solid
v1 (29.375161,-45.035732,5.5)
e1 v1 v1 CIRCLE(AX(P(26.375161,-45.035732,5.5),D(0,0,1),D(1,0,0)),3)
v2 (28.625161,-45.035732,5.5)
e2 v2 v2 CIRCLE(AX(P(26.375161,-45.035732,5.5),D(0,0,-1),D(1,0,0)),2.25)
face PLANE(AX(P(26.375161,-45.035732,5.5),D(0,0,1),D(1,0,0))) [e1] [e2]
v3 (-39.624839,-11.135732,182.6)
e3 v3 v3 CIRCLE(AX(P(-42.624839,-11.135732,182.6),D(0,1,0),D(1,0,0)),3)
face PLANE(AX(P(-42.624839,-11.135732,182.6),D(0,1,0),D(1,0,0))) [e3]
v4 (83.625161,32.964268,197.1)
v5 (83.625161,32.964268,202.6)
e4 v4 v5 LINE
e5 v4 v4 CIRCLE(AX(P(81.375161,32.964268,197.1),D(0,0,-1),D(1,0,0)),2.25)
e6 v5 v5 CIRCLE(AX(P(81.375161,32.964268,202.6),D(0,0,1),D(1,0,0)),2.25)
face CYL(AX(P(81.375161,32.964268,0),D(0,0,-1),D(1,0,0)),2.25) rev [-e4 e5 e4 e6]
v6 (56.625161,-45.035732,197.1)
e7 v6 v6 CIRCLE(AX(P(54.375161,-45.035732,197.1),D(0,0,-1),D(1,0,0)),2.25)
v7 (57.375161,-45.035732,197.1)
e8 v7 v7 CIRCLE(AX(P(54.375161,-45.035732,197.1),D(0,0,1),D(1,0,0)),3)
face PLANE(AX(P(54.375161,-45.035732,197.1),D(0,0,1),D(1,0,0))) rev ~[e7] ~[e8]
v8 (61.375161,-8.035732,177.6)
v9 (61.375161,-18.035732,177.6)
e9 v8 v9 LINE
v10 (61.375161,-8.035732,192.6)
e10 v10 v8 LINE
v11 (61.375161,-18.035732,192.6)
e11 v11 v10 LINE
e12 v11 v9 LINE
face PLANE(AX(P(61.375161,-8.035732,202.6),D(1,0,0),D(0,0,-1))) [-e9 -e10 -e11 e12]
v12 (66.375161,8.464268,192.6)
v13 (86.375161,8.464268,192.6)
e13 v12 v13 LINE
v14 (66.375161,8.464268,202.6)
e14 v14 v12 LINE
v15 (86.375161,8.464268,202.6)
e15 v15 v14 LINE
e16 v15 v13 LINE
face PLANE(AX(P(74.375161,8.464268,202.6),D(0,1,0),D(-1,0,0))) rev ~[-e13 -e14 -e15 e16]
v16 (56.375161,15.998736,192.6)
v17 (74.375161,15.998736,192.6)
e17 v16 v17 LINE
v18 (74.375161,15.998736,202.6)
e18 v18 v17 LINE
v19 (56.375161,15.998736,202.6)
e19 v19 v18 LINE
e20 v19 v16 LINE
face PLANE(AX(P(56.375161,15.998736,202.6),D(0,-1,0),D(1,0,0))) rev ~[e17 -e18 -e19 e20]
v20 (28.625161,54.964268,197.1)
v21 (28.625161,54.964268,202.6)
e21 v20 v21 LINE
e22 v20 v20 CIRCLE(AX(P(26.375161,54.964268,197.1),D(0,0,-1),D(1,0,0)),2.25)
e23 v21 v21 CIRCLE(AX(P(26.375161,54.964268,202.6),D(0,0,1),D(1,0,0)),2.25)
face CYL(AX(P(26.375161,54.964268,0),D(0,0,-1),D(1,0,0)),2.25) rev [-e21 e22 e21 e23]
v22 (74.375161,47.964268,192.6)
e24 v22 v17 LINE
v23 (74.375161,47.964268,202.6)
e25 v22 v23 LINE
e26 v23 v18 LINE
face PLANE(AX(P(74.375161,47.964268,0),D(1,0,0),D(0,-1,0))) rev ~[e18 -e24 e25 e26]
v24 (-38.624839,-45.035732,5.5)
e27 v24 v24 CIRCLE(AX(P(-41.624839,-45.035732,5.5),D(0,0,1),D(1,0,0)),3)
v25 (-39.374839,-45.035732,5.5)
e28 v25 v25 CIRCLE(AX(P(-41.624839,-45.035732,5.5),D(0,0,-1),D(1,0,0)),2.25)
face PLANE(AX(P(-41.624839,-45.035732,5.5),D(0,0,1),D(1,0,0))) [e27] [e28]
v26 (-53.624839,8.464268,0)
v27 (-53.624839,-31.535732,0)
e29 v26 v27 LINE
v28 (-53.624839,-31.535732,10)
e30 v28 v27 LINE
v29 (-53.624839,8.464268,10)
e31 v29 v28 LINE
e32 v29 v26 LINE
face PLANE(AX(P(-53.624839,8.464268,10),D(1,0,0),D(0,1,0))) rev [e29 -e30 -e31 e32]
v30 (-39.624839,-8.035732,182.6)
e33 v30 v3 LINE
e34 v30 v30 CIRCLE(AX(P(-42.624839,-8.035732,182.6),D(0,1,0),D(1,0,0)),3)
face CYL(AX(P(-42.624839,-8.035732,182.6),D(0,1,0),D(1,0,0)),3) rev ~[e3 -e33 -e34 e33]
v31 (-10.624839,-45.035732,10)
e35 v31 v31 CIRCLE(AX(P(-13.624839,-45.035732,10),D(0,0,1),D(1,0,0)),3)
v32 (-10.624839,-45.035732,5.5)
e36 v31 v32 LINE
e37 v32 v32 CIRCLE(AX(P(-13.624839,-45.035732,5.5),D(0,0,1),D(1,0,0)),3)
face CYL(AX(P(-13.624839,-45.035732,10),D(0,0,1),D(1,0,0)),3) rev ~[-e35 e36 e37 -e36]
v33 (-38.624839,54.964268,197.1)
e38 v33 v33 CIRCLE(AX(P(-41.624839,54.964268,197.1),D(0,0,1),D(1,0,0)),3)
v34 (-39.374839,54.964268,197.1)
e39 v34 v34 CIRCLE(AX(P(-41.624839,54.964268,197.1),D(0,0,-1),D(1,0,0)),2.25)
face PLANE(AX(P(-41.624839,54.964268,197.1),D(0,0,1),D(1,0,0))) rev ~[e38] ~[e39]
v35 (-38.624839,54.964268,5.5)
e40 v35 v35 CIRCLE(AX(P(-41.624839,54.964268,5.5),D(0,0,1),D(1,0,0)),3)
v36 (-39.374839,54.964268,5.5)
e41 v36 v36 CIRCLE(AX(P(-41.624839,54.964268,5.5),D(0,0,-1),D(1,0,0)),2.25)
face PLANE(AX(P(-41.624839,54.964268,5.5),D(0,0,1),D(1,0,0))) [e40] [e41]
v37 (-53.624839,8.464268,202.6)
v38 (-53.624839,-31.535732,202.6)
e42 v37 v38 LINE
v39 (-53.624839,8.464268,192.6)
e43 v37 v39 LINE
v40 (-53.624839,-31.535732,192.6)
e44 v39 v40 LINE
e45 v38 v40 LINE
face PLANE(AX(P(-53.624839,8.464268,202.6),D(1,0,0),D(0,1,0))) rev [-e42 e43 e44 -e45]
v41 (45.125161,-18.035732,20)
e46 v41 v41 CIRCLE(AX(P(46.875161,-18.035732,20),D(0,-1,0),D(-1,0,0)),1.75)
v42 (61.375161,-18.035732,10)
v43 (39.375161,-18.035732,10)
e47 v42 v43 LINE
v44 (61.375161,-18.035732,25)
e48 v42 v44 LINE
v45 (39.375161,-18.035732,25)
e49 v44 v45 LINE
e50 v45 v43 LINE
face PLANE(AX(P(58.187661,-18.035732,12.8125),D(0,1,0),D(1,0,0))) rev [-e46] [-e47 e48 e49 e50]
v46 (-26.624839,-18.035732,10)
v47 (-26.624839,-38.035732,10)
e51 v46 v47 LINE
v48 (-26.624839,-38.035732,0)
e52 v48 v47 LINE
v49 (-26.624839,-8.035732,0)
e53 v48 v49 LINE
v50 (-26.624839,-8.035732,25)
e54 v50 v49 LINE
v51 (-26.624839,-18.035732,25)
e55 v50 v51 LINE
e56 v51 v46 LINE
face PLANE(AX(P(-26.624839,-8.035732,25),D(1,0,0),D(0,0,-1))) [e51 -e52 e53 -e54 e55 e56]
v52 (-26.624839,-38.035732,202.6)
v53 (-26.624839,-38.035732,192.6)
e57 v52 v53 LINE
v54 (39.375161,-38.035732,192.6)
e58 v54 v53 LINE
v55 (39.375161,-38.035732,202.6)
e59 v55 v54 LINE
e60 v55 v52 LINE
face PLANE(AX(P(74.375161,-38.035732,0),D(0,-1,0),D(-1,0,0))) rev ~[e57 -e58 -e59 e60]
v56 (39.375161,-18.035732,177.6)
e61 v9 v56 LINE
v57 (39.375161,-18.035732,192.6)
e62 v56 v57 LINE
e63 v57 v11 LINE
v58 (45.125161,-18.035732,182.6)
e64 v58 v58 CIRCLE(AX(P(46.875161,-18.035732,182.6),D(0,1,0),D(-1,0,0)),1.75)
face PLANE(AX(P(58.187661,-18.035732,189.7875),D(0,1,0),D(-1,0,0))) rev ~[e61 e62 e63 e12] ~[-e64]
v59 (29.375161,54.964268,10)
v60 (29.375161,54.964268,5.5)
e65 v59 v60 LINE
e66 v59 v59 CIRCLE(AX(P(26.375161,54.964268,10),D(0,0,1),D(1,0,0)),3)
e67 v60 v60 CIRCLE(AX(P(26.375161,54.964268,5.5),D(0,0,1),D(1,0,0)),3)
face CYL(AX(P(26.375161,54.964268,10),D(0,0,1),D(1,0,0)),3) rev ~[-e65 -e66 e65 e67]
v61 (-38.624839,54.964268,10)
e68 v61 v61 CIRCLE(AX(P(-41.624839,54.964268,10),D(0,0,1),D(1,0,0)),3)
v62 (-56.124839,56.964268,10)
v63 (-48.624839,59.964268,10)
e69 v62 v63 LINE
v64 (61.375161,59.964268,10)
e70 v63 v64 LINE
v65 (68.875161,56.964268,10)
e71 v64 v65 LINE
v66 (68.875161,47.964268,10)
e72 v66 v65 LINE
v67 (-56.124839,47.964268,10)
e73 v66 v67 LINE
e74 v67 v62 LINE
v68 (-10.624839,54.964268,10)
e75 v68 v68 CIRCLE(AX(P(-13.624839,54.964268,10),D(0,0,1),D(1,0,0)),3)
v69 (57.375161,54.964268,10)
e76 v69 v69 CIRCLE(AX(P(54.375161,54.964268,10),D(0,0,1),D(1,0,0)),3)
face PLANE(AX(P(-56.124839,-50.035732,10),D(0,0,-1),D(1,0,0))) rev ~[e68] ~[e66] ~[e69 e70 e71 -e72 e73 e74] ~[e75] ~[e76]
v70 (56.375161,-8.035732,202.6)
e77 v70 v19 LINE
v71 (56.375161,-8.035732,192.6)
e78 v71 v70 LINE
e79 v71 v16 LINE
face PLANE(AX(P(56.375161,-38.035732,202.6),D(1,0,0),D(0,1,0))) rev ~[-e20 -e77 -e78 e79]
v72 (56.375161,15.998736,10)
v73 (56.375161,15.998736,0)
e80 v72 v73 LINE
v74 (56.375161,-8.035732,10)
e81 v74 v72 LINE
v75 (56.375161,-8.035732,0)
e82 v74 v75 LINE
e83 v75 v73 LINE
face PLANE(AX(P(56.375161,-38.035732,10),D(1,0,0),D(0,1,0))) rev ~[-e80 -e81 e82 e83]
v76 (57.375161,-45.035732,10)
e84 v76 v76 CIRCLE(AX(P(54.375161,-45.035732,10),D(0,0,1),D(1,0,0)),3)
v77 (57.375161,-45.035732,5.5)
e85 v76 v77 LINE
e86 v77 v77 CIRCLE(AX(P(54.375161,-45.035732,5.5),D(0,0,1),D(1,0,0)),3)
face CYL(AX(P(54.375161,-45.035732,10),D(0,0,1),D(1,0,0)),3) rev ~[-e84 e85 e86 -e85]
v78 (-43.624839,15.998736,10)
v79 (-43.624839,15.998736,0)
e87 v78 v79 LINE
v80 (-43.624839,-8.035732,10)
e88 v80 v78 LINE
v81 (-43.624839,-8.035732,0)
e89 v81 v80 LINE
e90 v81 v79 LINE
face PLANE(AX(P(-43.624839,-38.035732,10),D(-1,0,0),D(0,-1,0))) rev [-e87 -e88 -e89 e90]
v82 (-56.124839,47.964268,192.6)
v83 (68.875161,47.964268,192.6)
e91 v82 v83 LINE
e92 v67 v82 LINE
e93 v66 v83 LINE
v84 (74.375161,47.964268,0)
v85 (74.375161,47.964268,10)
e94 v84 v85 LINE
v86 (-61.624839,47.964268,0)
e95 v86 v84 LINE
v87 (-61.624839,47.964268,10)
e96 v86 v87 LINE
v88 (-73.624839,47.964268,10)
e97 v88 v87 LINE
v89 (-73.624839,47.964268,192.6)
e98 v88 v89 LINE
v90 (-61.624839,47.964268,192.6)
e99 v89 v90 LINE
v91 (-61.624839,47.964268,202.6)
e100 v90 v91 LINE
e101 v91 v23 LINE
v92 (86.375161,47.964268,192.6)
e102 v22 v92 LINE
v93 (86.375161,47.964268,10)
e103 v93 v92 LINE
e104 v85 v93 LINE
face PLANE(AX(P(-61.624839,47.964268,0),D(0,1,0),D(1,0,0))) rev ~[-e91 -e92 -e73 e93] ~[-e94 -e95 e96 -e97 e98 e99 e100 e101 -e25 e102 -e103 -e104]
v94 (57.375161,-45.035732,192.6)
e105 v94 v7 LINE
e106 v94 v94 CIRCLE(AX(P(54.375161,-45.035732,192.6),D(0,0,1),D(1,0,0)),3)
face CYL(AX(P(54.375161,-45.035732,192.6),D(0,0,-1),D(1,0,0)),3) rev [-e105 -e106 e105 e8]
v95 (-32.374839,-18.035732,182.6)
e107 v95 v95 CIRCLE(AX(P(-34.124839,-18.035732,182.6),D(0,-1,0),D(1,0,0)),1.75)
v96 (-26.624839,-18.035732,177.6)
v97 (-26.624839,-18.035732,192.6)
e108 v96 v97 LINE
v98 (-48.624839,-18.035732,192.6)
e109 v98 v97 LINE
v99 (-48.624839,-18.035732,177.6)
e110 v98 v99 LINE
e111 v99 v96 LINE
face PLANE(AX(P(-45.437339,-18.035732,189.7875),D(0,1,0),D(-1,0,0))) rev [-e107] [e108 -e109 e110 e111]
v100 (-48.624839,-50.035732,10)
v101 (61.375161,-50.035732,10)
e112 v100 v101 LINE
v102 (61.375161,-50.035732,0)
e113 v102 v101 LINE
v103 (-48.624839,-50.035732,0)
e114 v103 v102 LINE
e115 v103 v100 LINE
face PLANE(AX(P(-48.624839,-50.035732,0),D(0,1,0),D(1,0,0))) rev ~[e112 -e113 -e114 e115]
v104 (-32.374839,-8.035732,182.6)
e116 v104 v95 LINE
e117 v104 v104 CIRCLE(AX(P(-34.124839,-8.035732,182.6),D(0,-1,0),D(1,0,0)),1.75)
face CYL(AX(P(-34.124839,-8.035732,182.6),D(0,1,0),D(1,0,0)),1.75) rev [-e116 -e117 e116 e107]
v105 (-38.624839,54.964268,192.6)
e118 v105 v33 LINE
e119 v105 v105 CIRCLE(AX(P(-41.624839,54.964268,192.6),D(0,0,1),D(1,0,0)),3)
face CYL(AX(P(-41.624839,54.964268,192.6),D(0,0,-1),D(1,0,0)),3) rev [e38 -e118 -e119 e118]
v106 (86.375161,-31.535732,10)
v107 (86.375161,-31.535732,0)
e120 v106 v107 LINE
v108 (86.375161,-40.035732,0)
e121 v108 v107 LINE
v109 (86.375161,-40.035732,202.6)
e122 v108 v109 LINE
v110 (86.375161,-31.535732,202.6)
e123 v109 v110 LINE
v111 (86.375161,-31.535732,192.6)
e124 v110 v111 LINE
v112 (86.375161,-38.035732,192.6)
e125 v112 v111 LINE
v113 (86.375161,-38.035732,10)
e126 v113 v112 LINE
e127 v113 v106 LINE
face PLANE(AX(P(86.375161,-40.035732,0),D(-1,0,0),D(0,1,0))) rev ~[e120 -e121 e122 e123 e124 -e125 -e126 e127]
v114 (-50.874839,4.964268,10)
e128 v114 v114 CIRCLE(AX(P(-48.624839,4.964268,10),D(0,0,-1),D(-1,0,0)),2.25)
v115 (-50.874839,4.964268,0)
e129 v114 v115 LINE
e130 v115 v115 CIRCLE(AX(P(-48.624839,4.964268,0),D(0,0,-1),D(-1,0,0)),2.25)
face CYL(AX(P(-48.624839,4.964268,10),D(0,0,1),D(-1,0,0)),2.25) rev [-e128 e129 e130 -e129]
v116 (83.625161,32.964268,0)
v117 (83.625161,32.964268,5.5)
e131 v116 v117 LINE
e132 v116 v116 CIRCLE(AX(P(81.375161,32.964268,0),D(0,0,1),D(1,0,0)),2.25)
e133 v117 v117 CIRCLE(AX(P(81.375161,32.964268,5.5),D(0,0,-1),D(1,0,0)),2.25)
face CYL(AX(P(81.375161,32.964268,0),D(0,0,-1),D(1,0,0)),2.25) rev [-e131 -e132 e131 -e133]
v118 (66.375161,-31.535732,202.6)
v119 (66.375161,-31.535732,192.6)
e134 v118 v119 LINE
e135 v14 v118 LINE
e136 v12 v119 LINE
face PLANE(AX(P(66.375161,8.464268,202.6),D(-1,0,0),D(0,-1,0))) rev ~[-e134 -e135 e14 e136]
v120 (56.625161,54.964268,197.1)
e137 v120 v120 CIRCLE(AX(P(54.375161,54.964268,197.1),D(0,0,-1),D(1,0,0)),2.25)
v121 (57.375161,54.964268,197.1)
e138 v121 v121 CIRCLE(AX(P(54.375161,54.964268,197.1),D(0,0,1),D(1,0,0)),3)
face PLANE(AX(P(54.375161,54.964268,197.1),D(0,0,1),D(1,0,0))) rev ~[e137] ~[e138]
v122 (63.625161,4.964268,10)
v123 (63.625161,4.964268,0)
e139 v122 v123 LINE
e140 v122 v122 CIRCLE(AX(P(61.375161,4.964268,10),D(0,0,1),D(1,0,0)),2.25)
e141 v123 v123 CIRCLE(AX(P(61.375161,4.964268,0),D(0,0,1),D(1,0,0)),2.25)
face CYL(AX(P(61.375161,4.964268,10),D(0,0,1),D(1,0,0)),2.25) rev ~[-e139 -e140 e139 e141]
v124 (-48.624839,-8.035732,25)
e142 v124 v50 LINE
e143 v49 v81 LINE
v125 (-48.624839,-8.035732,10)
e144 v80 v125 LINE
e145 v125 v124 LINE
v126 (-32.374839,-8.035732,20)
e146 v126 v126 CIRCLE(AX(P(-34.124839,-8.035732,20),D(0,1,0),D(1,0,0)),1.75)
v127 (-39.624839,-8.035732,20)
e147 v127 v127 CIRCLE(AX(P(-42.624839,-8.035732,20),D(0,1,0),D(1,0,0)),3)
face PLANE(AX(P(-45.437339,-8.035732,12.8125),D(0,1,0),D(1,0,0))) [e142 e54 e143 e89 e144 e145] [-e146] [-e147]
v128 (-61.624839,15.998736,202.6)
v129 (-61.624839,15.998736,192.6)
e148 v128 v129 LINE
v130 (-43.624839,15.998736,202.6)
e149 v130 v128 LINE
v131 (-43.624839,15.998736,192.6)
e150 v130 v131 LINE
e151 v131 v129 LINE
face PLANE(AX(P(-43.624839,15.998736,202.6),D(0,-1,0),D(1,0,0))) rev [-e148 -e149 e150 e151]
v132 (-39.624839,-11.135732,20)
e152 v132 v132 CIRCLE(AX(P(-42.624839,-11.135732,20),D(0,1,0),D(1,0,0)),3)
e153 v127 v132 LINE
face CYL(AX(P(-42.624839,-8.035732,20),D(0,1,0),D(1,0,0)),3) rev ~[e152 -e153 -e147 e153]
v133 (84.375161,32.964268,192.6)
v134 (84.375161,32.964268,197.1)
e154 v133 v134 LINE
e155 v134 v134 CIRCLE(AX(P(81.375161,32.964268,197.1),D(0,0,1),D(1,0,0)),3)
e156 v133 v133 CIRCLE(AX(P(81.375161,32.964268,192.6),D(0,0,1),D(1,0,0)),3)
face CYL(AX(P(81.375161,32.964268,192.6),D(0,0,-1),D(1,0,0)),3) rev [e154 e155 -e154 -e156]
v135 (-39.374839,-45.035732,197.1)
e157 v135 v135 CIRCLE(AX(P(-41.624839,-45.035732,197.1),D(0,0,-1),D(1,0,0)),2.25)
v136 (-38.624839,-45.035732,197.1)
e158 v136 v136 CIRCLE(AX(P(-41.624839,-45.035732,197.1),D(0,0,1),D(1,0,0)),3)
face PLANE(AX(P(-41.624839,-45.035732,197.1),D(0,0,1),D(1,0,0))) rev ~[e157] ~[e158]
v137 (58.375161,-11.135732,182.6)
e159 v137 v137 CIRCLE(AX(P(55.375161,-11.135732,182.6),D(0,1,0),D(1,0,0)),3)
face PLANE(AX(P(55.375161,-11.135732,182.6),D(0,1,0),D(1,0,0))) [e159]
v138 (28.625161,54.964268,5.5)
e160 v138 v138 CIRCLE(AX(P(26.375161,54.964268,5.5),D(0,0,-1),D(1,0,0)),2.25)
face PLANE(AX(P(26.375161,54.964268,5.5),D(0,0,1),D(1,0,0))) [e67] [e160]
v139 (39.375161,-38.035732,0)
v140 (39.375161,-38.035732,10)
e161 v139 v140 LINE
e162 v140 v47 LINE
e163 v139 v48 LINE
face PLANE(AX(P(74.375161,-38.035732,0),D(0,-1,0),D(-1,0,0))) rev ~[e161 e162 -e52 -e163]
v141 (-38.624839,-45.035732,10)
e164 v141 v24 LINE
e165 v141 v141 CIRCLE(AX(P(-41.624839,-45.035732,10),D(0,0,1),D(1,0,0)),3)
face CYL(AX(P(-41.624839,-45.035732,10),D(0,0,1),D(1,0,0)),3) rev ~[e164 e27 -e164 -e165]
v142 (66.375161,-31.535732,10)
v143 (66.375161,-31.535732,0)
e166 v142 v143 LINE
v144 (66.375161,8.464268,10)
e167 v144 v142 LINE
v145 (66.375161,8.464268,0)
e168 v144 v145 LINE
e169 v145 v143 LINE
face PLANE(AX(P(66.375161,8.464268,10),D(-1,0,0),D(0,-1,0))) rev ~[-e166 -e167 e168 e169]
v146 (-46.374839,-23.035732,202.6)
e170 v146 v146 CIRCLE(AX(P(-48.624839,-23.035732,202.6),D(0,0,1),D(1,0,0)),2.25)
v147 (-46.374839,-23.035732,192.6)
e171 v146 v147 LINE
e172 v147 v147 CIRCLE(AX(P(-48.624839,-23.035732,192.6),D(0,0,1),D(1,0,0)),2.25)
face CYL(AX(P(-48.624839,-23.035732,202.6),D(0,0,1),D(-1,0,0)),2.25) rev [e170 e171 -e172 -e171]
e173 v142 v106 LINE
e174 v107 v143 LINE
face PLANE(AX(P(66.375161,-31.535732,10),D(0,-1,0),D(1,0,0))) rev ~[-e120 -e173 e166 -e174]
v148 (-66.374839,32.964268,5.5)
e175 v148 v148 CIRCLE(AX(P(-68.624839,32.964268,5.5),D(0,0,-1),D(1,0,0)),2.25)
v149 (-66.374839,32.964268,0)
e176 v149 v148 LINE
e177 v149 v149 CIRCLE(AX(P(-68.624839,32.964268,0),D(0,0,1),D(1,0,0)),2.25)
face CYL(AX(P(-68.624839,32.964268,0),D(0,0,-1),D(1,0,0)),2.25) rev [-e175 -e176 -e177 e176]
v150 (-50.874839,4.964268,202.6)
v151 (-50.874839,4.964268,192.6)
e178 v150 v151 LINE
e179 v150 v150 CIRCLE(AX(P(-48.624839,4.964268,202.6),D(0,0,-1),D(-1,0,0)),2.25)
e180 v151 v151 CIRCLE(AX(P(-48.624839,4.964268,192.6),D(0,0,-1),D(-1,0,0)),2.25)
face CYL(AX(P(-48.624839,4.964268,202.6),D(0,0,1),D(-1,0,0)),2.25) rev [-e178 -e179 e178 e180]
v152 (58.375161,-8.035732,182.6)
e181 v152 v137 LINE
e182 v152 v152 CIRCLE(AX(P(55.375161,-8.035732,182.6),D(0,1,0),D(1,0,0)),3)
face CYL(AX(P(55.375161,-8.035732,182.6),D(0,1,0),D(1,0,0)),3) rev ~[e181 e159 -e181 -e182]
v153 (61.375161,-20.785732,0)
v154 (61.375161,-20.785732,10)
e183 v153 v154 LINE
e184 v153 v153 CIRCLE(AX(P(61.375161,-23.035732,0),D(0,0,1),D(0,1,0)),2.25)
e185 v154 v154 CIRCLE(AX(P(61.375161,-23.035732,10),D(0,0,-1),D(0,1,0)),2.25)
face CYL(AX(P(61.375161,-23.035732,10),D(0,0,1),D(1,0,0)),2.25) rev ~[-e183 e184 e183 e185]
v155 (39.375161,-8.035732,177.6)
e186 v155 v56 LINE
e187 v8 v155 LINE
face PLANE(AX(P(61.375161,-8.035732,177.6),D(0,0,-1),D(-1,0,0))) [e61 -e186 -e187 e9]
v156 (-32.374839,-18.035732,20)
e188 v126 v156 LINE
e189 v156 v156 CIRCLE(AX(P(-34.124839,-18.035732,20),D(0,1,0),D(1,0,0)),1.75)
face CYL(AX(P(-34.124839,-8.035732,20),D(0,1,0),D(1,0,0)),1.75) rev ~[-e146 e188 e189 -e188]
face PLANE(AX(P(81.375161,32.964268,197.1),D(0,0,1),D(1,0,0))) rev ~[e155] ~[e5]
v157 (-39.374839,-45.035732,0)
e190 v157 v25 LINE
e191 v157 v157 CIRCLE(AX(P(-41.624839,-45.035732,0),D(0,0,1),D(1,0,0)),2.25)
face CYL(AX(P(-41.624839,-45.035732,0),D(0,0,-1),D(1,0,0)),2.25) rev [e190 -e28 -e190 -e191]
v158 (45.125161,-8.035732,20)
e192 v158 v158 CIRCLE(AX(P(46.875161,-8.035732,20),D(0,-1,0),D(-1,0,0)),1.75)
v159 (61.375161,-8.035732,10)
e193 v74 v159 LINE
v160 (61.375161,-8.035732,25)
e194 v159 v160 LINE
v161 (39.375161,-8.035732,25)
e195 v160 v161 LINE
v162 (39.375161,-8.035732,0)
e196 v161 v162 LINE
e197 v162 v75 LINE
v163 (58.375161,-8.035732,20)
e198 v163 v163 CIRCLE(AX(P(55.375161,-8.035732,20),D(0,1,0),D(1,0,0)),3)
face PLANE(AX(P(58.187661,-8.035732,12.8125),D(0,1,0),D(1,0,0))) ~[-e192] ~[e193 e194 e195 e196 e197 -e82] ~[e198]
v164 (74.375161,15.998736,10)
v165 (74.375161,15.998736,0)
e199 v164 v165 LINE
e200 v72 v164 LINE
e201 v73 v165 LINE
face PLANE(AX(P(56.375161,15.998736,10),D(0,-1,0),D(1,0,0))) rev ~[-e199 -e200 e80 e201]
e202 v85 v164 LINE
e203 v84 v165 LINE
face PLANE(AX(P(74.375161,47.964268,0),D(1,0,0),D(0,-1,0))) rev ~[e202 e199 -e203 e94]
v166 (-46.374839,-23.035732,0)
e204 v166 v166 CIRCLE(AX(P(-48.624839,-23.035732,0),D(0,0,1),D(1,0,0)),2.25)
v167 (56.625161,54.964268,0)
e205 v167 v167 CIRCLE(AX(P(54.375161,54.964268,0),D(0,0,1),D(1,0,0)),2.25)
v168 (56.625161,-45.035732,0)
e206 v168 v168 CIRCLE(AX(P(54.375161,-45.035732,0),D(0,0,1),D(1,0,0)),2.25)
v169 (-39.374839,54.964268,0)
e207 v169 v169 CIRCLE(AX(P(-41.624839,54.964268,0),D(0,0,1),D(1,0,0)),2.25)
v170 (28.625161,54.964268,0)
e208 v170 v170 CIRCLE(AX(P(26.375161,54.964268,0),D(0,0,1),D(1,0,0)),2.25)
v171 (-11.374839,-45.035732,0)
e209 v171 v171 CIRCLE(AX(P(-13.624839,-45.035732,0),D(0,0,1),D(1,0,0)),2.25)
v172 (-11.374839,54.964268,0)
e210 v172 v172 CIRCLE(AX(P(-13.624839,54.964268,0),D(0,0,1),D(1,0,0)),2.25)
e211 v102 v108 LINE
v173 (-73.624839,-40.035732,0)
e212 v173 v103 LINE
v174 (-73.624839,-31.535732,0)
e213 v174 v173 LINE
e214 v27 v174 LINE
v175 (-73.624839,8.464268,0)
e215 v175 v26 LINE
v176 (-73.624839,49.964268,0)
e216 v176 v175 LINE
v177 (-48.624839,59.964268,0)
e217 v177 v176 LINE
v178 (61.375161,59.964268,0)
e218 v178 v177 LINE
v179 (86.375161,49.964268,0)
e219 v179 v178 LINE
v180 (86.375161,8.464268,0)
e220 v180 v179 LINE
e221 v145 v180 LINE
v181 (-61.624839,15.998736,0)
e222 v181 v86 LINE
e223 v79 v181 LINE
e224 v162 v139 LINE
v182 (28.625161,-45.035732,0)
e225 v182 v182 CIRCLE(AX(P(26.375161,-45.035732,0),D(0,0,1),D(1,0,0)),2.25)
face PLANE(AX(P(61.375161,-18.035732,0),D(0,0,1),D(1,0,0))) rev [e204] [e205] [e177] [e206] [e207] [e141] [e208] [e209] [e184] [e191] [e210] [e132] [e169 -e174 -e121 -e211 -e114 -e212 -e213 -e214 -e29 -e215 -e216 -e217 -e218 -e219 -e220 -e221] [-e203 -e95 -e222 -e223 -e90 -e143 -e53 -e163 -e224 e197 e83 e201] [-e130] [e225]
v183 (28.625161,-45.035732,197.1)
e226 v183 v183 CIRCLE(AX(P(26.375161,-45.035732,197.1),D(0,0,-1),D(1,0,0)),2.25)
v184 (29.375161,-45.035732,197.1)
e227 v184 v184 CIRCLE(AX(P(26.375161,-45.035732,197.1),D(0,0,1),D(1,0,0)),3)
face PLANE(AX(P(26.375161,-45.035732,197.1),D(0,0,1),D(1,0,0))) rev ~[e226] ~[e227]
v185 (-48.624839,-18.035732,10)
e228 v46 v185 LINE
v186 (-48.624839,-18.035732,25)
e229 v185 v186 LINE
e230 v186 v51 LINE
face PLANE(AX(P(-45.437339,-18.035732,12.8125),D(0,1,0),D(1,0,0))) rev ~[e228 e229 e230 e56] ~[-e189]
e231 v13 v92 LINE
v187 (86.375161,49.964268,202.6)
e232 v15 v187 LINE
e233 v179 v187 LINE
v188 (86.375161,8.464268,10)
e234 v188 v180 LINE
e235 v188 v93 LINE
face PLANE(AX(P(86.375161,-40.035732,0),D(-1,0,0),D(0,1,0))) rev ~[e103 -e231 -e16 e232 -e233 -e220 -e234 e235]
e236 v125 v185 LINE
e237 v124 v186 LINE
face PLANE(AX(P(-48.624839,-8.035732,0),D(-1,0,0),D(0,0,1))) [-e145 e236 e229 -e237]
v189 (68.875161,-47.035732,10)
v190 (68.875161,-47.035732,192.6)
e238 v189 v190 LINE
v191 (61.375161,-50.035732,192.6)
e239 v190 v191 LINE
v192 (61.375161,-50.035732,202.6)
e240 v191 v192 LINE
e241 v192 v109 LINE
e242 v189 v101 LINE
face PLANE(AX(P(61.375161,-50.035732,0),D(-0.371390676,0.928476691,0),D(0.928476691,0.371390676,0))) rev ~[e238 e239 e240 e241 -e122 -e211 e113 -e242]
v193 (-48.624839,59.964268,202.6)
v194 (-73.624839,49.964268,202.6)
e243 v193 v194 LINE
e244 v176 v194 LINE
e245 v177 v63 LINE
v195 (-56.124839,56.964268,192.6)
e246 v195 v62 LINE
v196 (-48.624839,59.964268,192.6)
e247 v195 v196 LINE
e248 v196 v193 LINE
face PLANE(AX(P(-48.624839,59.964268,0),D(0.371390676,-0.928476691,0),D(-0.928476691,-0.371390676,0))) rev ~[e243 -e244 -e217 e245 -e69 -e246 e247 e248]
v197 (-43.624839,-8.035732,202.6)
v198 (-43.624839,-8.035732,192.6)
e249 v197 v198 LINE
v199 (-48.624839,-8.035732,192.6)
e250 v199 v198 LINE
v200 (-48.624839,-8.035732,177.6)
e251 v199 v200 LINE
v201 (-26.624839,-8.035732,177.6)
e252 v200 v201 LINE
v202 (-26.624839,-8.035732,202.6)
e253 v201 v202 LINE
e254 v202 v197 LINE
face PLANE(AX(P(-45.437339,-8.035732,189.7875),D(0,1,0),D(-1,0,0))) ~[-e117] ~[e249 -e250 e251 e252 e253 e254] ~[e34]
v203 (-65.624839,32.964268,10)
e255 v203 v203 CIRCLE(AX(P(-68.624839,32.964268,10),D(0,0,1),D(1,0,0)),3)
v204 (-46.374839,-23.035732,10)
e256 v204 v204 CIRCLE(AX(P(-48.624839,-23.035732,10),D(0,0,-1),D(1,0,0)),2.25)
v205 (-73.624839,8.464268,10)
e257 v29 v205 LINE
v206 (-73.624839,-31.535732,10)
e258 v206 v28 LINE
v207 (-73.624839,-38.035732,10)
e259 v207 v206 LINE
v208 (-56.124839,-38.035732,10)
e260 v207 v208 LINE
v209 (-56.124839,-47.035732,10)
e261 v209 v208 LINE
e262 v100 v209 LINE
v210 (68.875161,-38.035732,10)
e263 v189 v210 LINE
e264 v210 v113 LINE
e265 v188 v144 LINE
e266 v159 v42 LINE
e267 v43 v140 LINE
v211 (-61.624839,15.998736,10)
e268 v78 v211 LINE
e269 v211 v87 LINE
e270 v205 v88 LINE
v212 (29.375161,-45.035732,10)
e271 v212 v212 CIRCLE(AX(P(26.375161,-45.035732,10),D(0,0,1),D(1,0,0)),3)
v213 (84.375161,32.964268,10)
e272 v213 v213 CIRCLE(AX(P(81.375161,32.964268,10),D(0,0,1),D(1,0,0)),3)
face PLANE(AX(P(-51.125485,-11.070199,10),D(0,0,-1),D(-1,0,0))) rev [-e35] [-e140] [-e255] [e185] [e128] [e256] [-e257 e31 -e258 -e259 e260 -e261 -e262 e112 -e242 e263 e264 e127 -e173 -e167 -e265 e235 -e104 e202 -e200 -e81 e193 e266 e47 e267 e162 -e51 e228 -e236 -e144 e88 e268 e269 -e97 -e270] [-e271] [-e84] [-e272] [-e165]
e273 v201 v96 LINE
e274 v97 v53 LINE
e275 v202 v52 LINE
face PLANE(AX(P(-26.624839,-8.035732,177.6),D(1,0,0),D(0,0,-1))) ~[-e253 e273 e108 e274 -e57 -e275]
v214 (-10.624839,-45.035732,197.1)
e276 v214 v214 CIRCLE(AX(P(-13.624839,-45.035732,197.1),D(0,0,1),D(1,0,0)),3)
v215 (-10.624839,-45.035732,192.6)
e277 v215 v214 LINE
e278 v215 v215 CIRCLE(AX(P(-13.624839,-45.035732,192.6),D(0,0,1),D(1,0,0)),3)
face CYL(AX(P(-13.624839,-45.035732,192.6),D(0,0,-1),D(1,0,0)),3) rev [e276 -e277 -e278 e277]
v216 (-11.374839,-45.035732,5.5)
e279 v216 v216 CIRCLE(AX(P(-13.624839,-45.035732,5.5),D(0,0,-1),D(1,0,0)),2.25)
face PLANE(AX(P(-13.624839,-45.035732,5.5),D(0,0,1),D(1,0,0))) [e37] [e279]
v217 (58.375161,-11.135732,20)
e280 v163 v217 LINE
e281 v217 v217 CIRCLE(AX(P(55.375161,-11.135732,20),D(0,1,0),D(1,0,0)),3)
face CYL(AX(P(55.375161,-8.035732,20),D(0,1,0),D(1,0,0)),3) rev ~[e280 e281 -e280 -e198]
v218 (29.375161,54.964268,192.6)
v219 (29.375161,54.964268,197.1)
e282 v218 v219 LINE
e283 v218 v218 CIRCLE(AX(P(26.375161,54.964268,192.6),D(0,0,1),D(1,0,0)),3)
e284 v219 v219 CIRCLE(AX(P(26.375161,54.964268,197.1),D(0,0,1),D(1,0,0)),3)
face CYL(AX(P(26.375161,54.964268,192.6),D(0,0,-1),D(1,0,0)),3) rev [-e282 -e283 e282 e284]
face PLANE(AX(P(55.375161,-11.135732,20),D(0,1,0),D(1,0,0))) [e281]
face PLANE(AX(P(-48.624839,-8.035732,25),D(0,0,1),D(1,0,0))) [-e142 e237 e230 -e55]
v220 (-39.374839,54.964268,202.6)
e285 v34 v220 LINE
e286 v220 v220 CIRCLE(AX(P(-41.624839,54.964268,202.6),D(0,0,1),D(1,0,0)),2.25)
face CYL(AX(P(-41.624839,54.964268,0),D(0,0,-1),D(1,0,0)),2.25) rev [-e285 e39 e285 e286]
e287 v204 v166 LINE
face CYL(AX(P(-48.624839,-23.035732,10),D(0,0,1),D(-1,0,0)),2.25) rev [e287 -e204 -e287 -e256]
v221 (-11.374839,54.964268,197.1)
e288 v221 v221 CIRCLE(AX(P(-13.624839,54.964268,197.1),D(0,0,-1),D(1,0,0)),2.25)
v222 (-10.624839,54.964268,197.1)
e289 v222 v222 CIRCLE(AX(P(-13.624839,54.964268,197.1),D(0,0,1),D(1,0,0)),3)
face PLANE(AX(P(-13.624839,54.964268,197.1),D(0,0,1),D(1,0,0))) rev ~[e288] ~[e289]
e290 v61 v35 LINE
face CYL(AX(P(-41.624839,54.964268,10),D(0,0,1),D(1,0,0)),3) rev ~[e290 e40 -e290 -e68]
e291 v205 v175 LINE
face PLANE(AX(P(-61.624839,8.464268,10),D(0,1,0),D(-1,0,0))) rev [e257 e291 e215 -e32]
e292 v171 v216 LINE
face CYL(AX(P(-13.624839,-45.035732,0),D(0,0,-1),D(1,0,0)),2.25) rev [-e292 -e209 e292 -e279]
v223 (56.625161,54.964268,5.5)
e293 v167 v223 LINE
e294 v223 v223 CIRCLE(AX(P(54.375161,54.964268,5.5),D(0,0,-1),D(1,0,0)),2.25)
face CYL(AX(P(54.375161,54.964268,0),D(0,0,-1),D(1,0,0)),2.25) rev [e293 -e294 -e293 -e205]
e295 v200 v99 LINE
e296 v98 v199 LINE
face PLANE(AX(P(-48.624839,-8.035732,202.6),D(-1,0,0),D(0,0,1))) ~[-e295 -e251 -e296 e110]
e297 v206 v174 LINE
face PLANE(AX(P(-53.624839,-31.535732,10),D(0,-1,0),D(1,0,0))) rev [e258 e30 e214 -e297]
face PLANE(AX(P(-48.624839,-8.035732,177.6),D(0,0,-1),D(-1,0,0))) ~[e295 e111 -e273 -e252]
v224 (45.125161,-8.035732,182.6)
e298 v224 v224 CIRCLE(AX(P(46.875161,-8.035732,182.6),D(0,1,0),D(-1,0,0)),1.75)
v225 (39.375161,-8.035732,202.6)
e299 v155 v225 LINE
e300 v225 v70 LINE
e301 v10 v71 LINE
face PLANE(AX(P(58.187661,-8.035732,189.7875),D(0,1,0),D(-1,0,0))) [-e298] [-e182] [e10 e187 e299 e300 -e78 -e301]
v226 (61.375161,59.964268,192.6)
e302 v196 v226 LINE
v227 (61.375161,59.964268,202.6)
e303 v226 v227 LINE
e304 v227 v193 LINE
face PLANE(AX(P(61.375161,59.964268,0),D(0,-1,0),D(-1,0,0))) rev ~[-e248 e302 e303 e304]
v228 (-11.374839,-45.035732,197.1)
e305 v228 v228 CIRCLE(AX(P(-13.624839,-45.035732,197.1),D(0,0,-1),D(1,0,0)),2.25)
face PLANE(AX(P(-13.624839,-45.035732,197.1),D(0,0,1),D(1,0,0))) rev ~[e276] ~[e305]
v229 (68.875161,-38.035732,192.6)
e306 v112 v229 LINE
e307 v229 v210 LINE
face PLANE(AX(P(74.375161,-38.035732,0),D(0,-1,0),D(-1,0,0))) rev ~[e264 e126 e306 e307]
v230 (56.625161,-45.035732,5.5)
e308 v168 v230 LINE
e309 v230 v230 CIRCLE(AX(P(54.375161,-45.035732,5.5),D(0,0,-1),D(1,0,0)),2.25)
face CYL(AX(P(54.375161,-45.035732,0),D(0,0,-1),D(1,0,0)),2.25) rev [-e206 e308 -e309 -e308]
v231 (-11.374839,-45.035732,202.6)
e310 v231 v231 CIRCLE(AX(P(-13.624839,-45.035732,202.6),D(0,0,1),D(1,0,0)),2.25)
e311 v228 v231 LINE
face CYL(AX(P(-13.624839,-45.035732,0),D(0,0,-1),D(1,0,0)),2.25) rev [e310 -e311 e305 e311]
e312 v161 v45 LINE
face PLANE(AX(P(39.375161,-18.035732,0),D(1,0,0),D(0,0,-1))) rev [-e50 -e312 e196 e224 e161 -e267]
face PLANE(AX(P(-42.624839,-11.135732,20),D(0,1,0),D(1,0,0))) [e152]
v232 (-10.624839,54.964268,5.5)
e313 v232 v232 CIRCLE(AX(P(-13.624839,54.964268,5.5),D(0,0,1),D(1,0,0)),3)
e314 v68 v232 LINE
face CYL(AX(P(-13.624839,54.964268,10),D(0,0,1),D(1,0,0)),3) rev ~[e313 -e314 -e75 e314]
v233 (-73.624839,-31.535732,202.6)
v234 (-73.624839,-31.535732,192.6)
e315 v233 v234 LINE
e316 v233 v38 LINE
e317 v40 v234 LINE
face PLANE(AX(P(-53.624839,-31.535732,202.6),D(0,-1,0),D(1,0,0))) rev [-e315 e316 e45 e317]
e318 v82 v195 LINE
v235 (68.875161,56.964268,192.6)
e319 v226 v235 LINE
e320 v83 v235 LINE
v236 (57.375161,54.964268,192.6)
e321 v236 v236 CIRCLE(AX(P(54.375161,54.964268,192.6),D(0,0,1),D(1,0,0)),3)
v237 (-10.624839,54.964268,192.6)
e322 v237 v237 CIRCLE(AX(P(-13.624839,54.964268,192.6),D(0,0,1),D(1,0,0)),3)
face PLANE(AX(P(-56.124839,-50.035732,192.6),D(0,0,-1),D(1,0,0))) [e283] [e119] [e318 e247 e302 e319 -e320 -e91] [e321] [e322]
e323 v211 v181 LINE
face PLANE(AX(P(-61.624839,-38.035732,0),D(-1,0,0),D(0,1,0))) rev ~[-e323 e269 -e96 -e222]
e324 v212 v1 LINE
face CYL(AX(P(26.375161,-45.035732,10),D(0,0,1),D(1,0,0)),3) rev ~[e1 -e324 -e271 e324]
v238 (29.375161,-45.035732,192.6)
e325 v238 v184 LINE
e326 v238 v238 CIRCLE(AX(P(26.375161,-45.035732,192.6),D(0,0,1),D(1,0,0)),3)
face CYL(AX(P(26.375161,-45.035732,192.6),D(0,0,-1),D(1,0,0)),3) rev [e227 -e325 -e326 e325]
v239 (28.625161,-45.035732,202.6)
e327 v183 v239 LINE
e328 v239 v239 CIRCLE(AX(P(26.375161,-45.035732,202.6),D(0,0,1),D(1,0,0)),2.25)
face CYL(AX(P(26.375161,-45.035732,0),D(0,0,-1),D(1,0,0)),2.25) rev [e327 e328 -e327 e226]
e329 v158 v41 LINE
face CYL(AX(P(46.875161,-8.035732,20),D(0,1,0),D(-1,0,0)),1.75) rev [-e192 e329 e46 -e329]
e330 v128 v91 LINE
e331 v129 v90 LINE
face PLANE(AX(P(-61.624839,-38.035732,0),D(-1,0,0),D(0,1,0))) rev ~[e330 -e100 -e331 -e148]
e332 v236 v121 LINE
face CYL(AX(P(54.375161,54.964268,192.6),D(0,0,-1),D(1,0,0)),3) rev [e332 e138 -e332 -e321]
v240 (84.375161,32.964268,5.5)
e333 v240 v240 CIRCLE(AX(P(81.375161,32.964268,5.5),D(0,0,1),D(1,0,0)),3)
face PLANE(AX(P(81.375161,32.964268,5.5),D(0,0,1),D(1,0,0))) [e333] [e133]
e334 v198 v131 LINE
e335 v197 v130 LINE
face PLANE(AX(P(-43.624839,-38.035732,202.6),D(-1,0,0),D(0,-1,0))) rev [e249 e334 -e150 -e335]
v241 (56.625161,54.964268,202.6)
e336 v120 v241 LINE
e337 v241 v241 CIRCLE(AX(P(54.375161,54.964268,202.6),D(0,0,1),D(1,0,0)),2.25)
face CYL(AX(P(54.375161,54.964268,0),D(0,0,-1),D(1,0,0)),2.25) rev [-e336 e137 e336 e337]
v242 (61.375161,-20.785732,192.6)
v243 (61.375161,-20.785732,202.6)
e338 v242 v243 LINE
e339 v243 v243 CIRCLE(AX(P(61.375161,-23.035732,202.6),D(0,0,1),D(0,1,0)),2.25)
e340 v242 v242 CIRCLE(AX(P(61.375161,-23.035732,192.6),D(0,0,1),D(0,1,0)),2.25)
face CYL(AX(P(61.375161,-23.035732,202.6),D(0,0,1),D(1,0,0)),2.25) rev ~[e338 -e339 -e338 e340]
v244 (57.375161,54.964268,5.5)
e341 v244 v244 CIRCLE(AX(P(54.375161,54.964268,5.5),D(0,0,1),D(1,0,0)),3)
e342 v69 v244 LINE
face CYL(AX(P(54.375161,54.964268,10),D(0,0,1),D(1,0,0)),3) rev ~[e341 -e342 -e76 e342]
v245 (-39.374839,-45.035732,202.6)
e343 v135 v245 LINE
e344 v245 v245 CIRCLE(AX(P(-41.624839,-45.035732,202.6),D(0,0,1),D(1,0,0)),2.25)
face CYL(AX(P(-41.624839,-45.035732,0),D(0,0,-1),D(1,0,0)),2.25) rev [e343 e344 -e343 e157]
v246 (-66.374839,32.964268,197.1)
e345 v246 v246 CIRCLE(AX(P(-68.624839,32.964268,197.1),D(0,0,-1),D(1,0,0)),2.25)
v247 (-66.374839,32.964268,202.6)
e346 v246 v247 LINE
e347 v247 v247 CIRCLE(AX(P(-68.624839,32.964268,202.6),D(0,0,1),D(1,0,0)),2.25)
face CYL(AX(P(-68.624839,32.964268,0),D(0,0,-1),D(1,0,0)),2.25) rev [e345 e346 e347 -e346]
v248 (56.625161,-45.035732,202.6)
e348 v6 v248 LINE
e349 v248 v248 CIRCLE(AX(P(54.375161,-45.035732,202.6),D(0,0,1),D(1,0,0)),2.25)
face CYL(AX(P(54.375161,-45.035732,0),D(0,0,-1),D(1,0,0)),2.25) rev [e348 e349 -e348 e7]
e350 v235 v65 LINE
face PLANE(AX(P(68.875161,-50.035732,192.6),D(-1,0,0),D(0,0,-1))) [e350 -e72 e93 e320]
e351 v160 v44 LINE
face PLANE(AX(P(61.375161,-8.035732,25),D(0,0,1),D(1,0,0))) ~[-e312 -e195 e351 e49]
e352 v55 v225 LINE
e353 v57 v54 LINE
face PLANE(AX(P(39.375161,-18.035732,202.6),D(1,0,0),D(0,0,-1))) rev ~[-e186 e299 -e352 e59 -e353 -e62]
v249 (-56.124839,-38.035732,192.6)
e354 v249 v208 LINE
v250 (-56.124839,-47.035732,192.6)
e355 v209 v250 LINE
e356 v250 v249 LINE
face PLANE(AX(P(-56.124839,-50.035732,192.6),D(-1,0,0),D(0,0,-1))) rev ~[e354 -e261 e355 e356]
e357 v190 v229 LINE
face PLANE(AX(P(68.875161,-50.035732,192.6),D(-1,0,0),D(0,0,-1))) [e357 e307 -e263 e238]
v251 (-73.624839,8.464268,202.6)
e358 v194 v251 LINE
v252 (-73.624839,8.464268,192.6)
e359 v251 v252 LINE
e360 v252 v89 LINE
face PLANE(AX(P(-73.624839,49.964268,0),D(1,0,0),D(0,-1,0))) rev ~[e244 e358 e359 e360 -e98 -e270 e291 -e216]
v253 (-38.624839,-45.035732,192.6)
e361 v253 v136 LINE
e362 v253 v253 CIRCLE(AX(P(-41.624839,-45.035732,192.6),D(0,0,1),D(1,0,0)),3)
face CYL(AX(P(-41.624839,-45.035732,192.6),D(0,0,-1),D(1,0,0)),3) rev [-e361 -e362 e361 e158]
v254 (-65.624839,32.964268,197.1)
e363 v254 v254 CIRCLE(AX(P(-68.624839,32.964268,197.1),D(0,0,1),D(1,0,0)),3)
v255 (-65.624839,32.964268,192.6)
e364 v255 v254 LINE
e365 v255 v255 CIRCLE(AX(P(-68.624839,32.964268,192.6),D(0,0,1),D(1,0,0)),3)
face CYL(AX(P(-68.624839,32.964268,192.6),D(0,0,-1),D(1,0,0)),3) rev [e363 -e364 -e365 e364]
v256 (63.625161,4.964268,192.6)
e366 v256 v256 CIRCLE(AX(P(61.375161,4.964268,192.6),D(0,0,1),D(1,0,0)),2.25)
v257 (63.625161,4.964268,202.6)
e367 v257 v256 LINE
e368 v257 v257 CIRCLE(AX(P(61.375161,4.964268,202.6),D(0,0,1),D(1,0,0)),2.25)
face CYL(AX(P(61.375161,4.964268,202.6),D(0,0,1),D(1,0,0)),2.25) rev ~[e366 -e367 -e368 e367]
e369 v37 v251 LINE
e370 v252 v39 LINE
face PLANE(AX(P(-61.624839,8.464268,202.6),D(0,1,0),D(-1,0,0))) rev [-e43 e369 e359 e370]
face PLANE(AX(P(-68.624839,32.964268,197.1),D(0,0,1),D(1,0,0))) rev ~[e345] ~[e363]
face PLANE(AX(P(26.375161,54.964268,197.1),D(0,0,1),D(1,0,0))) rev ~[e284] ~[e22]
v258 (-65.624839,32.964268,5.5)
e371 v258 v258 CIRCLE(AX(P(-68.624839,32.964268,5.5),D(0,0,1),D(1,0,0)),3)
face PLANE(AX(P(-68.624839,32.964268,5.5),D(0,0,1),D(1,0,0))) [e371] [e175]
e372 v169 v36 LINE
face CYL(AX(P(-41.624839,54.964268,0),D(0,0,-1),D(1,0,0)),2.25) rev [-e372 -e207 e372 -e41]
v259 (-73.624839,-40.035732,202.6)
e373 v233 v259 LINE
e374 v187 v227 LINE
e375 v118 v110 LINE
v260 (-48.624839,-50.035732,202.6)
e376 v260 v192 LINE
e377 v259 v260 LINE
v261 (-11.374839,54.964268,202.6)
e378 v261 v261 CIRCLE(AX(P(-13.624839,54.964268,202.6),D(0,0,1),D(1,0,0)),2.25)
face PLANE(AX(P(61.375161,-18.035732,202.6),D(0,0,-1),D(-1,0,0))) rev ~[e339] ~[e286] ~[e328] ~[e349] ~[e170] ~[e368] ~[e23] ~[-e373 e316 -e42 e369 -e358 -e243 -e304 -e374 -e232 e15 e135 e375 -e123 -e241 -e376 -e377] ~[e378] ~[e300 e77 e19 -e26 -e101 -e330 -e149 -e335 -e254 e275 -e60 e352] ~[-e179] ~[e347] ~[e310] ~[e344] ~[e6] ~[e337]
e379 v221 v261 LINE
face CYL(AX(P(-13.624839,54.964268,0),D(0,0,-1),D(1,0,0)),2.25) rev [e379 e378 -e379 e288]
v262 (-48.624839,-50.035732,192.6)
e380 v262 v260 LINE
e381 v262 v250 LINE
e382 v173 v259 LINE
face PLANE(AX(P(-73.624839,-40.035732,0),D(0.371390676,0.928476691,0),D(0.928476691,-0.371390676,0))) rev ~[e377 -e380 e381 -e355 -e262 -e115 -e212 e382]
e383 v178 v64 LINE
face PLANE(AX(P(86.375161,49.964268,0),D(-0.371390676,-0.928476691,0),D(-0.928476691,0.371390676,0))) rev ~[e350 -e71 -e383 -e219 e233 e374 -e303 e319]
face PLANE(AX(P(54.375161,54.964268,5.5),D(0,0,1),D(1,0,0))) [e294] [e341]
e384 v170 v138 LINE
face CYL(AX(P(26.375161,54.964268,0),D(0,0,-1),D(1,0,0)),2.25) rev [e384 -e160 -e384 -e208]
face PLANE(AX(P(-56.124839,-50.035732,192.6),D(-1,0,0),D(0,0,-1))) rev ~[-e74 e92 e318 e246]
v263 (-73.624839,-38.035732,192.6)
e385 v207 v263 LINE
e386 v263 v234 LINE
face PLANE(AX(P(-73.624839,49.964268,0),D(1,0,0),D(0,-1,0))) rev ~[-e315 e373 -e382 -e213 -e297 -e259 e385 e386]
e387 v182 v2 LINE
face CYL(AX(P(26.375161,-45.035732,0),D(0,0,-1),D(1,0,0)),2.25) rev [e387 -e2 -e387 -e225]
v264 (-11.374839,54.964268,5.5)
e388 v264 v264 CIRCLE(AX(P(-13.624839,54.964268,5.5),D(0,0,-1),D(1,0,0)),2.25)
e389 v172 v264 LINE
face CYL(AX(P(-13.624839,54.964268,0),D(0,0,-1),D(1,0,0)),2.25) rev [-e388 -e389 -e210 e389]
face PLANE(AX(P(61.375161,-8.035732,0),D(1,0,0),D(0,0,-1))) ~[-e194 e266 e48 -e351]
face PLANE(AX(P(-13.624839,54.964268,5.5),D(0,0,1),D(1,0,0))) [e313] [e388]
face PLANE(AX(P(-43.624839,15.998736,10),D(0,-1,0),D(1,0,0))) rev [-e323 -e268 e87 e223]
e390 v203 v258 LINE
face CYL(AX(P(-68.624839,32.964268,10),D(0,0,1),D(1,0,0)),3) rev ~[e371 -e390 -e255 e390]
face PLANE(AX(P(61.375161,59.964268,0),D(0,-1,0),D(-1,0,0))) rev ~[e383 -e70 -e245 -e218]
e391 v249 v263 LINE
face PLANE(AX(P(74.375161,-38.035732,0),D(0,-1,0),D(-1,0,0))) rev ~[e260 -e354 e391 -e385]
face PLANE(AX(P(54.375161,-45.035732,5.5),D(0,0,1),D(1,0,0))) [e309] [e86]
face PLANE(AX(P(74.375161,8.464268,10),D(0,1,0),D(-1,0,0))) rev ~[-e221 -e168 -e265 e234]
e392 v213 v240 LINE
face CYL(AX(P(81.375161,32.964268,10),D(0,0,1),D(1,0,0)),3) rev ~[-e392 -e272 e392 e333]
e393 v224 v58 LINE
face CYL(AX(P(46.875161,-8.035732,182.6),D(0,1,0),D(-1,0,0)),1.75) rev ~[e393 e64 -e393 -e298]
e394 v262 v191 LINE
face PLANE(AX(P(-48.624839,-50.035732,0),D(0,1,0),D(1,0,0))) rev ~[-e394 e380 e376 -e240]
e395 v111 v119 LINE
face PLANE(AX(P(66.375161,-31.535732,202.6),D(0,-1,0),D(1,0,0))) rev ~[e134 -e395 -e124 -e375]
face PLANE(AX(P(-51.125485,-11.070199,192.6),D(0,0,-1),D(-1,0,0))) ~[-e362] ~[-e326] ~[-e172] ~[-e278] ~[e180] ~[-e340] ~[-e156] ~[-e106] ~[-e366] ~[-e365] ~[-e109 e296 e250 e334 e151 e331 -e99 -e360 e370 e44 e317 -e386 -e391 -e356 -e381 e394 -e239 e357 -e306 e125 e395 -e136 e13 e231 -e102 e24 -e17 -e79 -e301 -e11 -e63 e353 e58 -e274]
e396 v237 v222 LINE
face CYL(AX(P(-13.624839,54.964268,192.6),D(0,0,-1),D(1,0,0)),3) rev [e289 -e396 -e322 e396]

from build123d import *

# Parameters (mm, degrees)
SKETCH1_R                 = 2.25
BOSS_EXTRUDE2_DEPTH       = 202.6
SKETCH2_W                 = 182.6
SKETCH2_H                 = 86
CUT_EXTRUDE1_DEPTH        = 161
SKETCH4_R                 = 3
CUT_EXTRUDE2_DEPTH        = 4.5
CUT_EXTRUDE3_START        = 182.6
SKETCH4_2_R               = 3
CUT_EXTRUDE3_DEPTH        = 4.5
SKETCH3_W                 = 110
SKETCH3_H                 = 182.6
CUT_EXTRUDE4_DEPTH        = 111
CUT_EXTRUDE5_START        = -12
SKETCH5_W                 = 125
SKETCH5_H                 = 182.6
CUT_EXTRUDE5_DEPTH        = 111
SKETCH6_W                 = 20
SKETCH6_H                 = 40
CUT_EXTRUDE7_DEPTH        = 12
SKETCH8_R                 = 2.25
BOSS_EXTRUDE3_DEPTH       = 10
BOSS_EXTRUDE4_START       = -192.6
SKETCH8_2_R               = 2.25
BOSS_EXTRUDE4_DEPTH       = 10
BOSS_EXTRUDE5_START       = 30
SKETCH9_W                 = 2
SKETCH9_H                 = 10
SKETCH9_W_2               = 15
SKETCH9_H_2               = 5
SKETCH9_R                 = 1.75
BOSS_EXTRUDE5_DEPTH       = 10
SKETCH10_W                = 22
SKETCH10_H                = 10
BOSS_EXTRUDE6_DEPTH       = 20
MIRROR3_START             = 30
MIRROR3_COPY_1_SKETCH_W   = 2
MIRROR3_COPY_1_SKETCH_H   = 10
MIRROR3_COPY_1_SKETCH_W_2 = 15
MIRROR3_COPY_1_SKETCH_H_2 = 5
MIRROR3_COPY_1_SKETCH_R   = 1.75
MIRROR3_COPY_1_DEPTH      = 10
MIRROR3_COPY_2_SKETCH_W   = 22
MIRROR3_COPY_2_SKETCH_H   = 10
MIRROR3_COPY_2_DEPTH      = 20
SKETCH11_R                = 2.25
CUT_EXTRUDE8_DEPTH        = 203.6
SKETCH12_R                = 3
CUT_EXTRUDE9_DEPTH        = 3.1


with BuildPart() as part:
    # Sketch1 → Boss-Extrude2 (new body)
    with BuildSketch(Plane.XY):
        Polygon((-48.624838984, -50.035732152), (61.375161016, -50.035732152), (86.375161016, -40.035732152), (86.375161016, 49.964267848), (61.375161016, 59.964267848), (-48.624838984, 59.964267848), (-73.624838984, 49.964267848), (-73.624838984, -40.035732152), align=None)
        with Locations((-41.624838984, -45.035732152)):
            Circle(SKETCH1_R, mode=Mode.SUBTRACT)
        with Locations((-68.624838984, -23.035732152)):
            Circle(SKETCH1_R, mode=Mode.SUBTRACT)
        with Locations((-13.624838984, -45.035732152)):
            Circle(SKETCH1_R, mode=Mode.SUBTRACT)
        with Locations((-68.624838984, 4.964267848)):
            Circle(SKETCH1_R, mode=Mode.SUBTRACT)
        with Locations((26.375161016, -45.035732152)):
            Circle(SKETCH1_R, mode=Mode.SUBTRACT)
        with Locations((54.375161016, -45.035732152)):
            Circle(SKETCH1_R, mode=Mode.SUBTRACT)
        with Locations((81.375161016, -23.035732152)):
            Circle(SKETCH1_R, mode=Mode.SUBTRACT)
        Polygon((74.375161016, 47.964267848), (74.375161016, -38.035732152), (13.375161016, -38.035732152), (-0.624838984, -38.035732152), (-61.624838984, -38.035732152), (-61.624838984, 47.964267848), (-7.624838984, 47.964267848), (-0.624838984, 47.964267848), (13.375161016, 47.964267848), (20.375161016, 47.964267848), align=None, mode=Mode.SUBTRACT)
        with Locations((81.375161016, 4.964267848)):
            Circle(SKETCH1_R, mode=Mode.SUBTRACT)
        with Locations((-68.624838984, 32.964267848)):
            Circle(SKETCH1_R, mode=Mode.SUBTRACT)
        with Locations((-41.624838984, 54.964267848)):
            Circle(SKETCH1_R, mode=Mode.SUBTRACT)
        with Locations((-13.624838984, 54.964267848)):
            Circle(SKETCH1_R, mode=Mode.SUBTRACT)
        with Locations((26.375161016, 54.964267848)):
            Circle(SKETCH1_R, mode=Mode.SUBTRACT)
        with Locations((81.375161016, 32.964267848)):
            Circle(SKETCH1_R, mode=Mode.SUBTRACT)
        with Locations((54.375161016, 54.964267848)):
            Circle(SKETCH1_R, mode=Mode.SUBTRACT)
    extrude(amount=BOSS_EXTRUDE2_DEPTH)

    # Sketch2 → Cut-Extrude1 (cut, through all)
    with BuildSketch(Plane.ZY.offset(73.624838984)):
        with Locations((101.3, 4.964267848)):
            Rectangle(SKETCH2_W, SKETCH2_H)
    extrude(amount=-CUT_EXTRUDE1_DEPTH, mode=Mode.SUBTRACT)

    # Sketch4 → Cut-Extrude2 (cut)
    with BuildSketch(Plane.XY.offset(10)):
        with Locations((-68.624838984, 32.964267848)):
            Circle(SKETCH4_R)
        with Locations((-68.624838984, 4.964267848)):
            Circle(SKETCH4_R)
        with Locations((-68.624838984, -23.035732152)):
            Circle(SKETCH4_R)
        with Locations((-41.624838984, 54.964267848)):
            Circle(SKETCH4_R)
        with Locations((-13.624838984, 54.964267848)):
            Circle(SKETCH4_R)
        with Locations((26.375161016, 54.964267848)):
            Circle(SKETCH4_R)
        with Locations((54.375161016, 54.964267848)):
            Circle(SKETCH4_R)
        with Locations((81.375161016, 32.964267848)):
            Circle(SKETCH4_R)
        with Locations((81.375161016, 4.964267848)):
            Circle(SKETCH4_R)
        with Locations((81.375161016, -23.035732152)):
            Circle(SKETCH4_R)
        with Locations((54.375161016, -45.035732152)):
            Circle(SKETCH4_R)
        with Locations((26.375161016, -45.035732152)):
            Circle(SKETCH4_R)
        with Locations((-13.624838984, -45.035732152)):
            Circle(SKETCH4_R)
        with Locations((-41.624838984, -45.035732152)):
            Circle(SKETCH4_R)
    extrude(amount=-CUT_EXTRUDE2_DEPTH, mode=Mode.SUBTRACT)

    # Sketch4<2> → Cut-Extrude3 (cut)
    with BuildSketch(Plane.XY.offset(10).offset(CUT_EXTRUDE3_START)):
        with Locations((-68.624838984, 32.964267848)):
            Circle(SKETCH4_2_R)
        with Locations((-68.624838984, 4.964267848)):
            Circle(SKETCH4_2_R)
        with Locations((-68.624838984, -23.035732152)):
            Circle(SKETCH4_2_R)
        with Locations((-41.624838984, 54.964267848)):
            Circle(SKETCH4_2_R)
        with Locations((-13.624838984, 54.964267848)):
            Circle(SKETCH4_2_R)
        with Locations((26.375161016, 54.964267848)):
            Circle(SKETCH4_2_R)
        with Locations((54.375161016, 54.964267848)):
            Circle(SKETCH4_2_R)
        with Locations((81.375161016, 32.964267848)):
            Circle(SKETCH4_2_R)
        with Locations((81.375161016, 4.964267848)):
            Circle(SKETCH4_2_R)
        with Locations((81.375161016, -23.035732152)):
            Circle(SKETCH4_2_R)
        with Locations((54.375161016, -45.035732152)):
            Circle(SKETCH4_2_R)
        with Locations((26.375161016, -45.035732152)):
            Circle(SKETCH4_2_R)
        with Locations((-13.624838984, -45.035732152)):
            Circle(SKETCH4_2_R)
        with Locations((-41.624838984, -45.035732152)):
            Circle(SKETCH4_2_R)
    extrude(amount=CUT_EXTRUDE3_DEPTH, mode=Mode.SUBTRACT)

    # Sketch3 → Cut-Extrude4 (cut, through all)
    with BuildSketch(Plane(origin=(0, 59.964267848, 0), x_dir=(1, 0, 0), z_dir=(0, 1, 0))):
        with Locations((6.375161016, -101.3)):
            Rectangle(SKETCH3_W, SKETCH3_H)
    extrude(amount=-CUT_EXTRUDE4_DEPTH, mode=Mode.SUBTRACT)

    # Sketch5 → Cut-Extrude5 (cut, through all)
    with BuildSketch(Plane(origin=(0, -38.035732152, 0), x_dir=(1, 0, 0), z_dir=(0, 1, 0)).offset(CUT_EXTRUDE5_START)):
        with Locations((6.375161016, -101.3)):
            Rectangle(SKETCH5_W, SKETCH5_H)
    extrude(amount=CUT_EXTRUDE5_DEPTH, mode=Mode.SUBTRACT)

    # Sketch6 → Cut-Extrude7 (cut)
    with BuildSketch(Plane(origin=(86.375161016, 0, 0), x_dir=(0, 0, -1), z_dir=(1, 0, 0))):
        with Locations((-192.6, -11.535732152)):
            Rectangle(SKETCH6_W, SKETCH6_H)
        with Locations((-10, -11.535732152)):
            Rectangle(SKETCH6_W, SKETCH6_H)
    cut_extrude7 = extrude(amount=-CUT_EXTRUDE7_DEPTH, mode=Mode.SUBTRACT)

    # Sketch8 → Boss-Extrude3 (add)
    with BuildSketch(Plane.XY.offset(202.6)):
        Polygon((66.375161016, 8.464267848), (66.375161016, -31.535732152), (74.375161016, -31.535732152), (74.375161016, -38.035732152), (56.375161016, -38.035732152), (56.375161016, 15.998735889), (74.375161016, 15.998735889), (74.375161016, 8.464267848), align=None)
        with Locations((61.375161016, 4.964267848)):
            Circle(SKETCH8_R, mode=Mode.SUBTRACT)
        with Locations((61.375161016, -23.035732152)):
            Circle(SKETCH8_R, mode=Mode.SUBTRACT)
    boss_extrude3 = extrude(amount=-BOSS_EXTRUDE3_DEPTH)

    # Sketch8<2> → Boss-Extrude4 (add)
    with BuildSketch(Plane.XY.offset(202.6).offset(BOSS_EXTRUDE4_START)):
        Polygon((66.375161016, 8.464267848), (66.375161016, -31.535732152), (74.375161016, -31.535732152), (74.375161016, -38.035732152), (56.375161016, -38.035732152), (56.375161016, 15.998735889), (74.375161016, 15.998735889), (74.375161016, 8.464267848), align=None)
        with Locations((61.375161016, 4.964267848)):
            Circle(SKETCH8_2_R, mode=Mode.SUBTRACT)
        with Locations((61.375161016, -23.035732152)):
            Circle(SKETCH8_2_R, mode=Mode.SUBTRACT)
    boss_extrude4 = extrude(amount=-BOSS_EXTRUDE4_DEPTH)

    # Mirror1: Cut-Extrude7, Boss-Extrude3, Boss-Extrude4 across plane
    add(cut_extrude7.mirror(Plane(origin=(6.375161016, 0, 0), x_dir=(0, 0, 1), z_dir=(1, 0, 0))), mode=Mode.SUBTRACT)
    add(boss_extrude3.mirror(Plane(origin=(6.375161016, 0, 0), x_dir=(0, 0, 1), z_dir=(1, 0, 0))))
    add(boss_extrude4.mirror(Plane(origin=(6.375161016, 0, 0), x_dir=(0, 0, 1), z_dir=(1, 0, 0))))

    # Sketch9 → Boss-Extrude5 (add)
    with BuildSketch(Plane(origin=(0, -38.035732152, 0), x_dir=(1, 0, 0), z_dir=(0, 1, 0)).offset(BOSS_EXTRUDE5_START)):
        Polygon((-48.624838984, -25), (-41.624838984, -25), (-41.624838984, -15), (-41.624838984, -10), (-43.624838984, -10), (-43.624838984, 0), (-48.624838984, 0), align=None)
        with Locations((-42.624838984, -5)):
            Rectangle(SKETCH9_W, SKETCH9_H)
        with Locations((-34.124838984, -5)):
            Rectangle(SKETCH9_W_2, SKETCH9_H)
        with Locations((-34.124838984, -12.5)):
            Rectangle(SKETCH9_W_2, SKETCH9_H_2)
        with Locations((-34.124838984, -20)):
            Rectangle(SKETCH9_W_2, SKETCH9_H)
        with Locations((-34.124838984, -20)):
            Circle(SKETCH9_R, mode=Mode.SUBTRACT)
    boss_extrude5 = extrude(amount=-BOSS_EXTRUDE5_DEPTH)

    # Sketch10 → Boss-Extrude6 (add)
    with BuildSketch(Plane.XZ.offset(18.035732152)):
        with Locations((-37.624838984, 5)):
            Rectangle(SKETCH10_W, SKETCH10_H)
    boss_extrude6 = extrude(amount=BOSS_EXTRUDE6_DEPTH)

    # Mirror2: Boss-Extrude5, Boss-Extrude6 across plane
    add(boss_extrude5.mirror(Plane.XY.offset(101.3)))
    add(boss_extrude6.mirror(Plane.XY.offset(101.3)))

    # Mirror3: Boss-Extrude5, Boss-Extrude6 across plane
    add(boss_extrude5.mirror(Plane(origin=(6.375161016, 0, 0), x_dir=(0, 0, 1), z_dir=(1, 0, 0))))
    add(boss_extrude6.mirror(Plane(origin=(6.375161016, 0, 0), x_dir=(0, 0, 1), z_dir=(1, 0, 0))))

    # Mirror3 copy 1 sketch → Mirror3 copy 1 (add)
    with BuildSketch(Plane(origin=(12.750322031, -38.035732152, 202.6), x_dir=(-1, 0, 0), z_dir=(0, 1, 0)).offset(MIRROR3_START)):
        Polygon((-48.624838984, -25), (-41.624838984, -25), (-41.624838984, -15), (-41.624838984, -10), (-43.624838984, -10), (-43.624838984, 0), (-48.624838984, 0), align=None)
        with Locations((-42.624838984, -5)):
            Rectangle(MIRROR3_COPY_1_SKETCH_W, MIRROR3_COPY_1_SKETCH_H)
        with Locations((-34.124838984, -5)):
            Rectangle(MIRROR3_COPY_1_SKETCH_W_2, MIRROR3_COPY_1_SKETCH_H)
        with Locations((-34.124838984, -12.5)):
            Rectangle(MIRROR3_COPY_1_SKETCH_W_2, MIRROR3_COPY_1_SKETCH_H_2)
        with Locations((-34.124838984, -20)):
            Rectangle(MIRROR3_COPY_1_SKETCH_W_2, MIRROR3_COPY_1_SKETCH_H)
        with Locations((-34.124838984, -20)):
            Circle(MIRROR3_COPY_1_SKETCH_R, mode=Mode.SUBTRACT)
    extrude(amount=-MIRROR3_COPY_1_DEPTH)

    # Mirror3 copy 2 sketch → Mirror3 copy 2 (add)
    with BuildSketch(Plane(origin=(12.750322031, -18.035732152, 202.6), x_dir=(-1, 0, 0), z_dir=(0, -1, 0))):
        with Locations((-37.624838984, 5)):
            Rectangle(MIRROR3_COPY_2_SKETCH_W, MIRROR3_COPY_2_SKETCH_H)
    extrude(amount=MIRROR3_COPY_2_DEPTH)

    # Sketch11 → Cut-Extrude8 (cut, through all)
    with BuildSketch(Plane.XY.offset(202.6)):
        with Locations((-48.624838984, -23.035732152)):
            Circle(SKETCH11_R)
        with Locations((61.375161016, -23.035732152)):
            Circle(SKETCH11_R)
    extrude(amount=-CUT_EXTRUDE8_DEPTH, mode=Mode.SUBTRACT)

    # Sketch12 → Cut-Extrude9 (cut)
    with BuildSketch(Plane(origin=(0, -8.035732152, 0), x_dir=(1, 0, 0), z_dir=(0, 1, 0))):
        with Locations((-42.624838984, -20)):
            Circle(SKETCH12_R)
        with Locations((55.375161016, -20)):
            Circle(SKETCH12_R)
        with Locations((55.375161016, -182.6)):
            Circle(SKETCH12_R)
        with Locations((-42.624838984, -182.6)):
            Circle(SKETCH12_R)
    extrude(amount=-CUT_EXTRUDE9_DEPTH, mode=Mode.SUBTRACT)


solid = part.part
